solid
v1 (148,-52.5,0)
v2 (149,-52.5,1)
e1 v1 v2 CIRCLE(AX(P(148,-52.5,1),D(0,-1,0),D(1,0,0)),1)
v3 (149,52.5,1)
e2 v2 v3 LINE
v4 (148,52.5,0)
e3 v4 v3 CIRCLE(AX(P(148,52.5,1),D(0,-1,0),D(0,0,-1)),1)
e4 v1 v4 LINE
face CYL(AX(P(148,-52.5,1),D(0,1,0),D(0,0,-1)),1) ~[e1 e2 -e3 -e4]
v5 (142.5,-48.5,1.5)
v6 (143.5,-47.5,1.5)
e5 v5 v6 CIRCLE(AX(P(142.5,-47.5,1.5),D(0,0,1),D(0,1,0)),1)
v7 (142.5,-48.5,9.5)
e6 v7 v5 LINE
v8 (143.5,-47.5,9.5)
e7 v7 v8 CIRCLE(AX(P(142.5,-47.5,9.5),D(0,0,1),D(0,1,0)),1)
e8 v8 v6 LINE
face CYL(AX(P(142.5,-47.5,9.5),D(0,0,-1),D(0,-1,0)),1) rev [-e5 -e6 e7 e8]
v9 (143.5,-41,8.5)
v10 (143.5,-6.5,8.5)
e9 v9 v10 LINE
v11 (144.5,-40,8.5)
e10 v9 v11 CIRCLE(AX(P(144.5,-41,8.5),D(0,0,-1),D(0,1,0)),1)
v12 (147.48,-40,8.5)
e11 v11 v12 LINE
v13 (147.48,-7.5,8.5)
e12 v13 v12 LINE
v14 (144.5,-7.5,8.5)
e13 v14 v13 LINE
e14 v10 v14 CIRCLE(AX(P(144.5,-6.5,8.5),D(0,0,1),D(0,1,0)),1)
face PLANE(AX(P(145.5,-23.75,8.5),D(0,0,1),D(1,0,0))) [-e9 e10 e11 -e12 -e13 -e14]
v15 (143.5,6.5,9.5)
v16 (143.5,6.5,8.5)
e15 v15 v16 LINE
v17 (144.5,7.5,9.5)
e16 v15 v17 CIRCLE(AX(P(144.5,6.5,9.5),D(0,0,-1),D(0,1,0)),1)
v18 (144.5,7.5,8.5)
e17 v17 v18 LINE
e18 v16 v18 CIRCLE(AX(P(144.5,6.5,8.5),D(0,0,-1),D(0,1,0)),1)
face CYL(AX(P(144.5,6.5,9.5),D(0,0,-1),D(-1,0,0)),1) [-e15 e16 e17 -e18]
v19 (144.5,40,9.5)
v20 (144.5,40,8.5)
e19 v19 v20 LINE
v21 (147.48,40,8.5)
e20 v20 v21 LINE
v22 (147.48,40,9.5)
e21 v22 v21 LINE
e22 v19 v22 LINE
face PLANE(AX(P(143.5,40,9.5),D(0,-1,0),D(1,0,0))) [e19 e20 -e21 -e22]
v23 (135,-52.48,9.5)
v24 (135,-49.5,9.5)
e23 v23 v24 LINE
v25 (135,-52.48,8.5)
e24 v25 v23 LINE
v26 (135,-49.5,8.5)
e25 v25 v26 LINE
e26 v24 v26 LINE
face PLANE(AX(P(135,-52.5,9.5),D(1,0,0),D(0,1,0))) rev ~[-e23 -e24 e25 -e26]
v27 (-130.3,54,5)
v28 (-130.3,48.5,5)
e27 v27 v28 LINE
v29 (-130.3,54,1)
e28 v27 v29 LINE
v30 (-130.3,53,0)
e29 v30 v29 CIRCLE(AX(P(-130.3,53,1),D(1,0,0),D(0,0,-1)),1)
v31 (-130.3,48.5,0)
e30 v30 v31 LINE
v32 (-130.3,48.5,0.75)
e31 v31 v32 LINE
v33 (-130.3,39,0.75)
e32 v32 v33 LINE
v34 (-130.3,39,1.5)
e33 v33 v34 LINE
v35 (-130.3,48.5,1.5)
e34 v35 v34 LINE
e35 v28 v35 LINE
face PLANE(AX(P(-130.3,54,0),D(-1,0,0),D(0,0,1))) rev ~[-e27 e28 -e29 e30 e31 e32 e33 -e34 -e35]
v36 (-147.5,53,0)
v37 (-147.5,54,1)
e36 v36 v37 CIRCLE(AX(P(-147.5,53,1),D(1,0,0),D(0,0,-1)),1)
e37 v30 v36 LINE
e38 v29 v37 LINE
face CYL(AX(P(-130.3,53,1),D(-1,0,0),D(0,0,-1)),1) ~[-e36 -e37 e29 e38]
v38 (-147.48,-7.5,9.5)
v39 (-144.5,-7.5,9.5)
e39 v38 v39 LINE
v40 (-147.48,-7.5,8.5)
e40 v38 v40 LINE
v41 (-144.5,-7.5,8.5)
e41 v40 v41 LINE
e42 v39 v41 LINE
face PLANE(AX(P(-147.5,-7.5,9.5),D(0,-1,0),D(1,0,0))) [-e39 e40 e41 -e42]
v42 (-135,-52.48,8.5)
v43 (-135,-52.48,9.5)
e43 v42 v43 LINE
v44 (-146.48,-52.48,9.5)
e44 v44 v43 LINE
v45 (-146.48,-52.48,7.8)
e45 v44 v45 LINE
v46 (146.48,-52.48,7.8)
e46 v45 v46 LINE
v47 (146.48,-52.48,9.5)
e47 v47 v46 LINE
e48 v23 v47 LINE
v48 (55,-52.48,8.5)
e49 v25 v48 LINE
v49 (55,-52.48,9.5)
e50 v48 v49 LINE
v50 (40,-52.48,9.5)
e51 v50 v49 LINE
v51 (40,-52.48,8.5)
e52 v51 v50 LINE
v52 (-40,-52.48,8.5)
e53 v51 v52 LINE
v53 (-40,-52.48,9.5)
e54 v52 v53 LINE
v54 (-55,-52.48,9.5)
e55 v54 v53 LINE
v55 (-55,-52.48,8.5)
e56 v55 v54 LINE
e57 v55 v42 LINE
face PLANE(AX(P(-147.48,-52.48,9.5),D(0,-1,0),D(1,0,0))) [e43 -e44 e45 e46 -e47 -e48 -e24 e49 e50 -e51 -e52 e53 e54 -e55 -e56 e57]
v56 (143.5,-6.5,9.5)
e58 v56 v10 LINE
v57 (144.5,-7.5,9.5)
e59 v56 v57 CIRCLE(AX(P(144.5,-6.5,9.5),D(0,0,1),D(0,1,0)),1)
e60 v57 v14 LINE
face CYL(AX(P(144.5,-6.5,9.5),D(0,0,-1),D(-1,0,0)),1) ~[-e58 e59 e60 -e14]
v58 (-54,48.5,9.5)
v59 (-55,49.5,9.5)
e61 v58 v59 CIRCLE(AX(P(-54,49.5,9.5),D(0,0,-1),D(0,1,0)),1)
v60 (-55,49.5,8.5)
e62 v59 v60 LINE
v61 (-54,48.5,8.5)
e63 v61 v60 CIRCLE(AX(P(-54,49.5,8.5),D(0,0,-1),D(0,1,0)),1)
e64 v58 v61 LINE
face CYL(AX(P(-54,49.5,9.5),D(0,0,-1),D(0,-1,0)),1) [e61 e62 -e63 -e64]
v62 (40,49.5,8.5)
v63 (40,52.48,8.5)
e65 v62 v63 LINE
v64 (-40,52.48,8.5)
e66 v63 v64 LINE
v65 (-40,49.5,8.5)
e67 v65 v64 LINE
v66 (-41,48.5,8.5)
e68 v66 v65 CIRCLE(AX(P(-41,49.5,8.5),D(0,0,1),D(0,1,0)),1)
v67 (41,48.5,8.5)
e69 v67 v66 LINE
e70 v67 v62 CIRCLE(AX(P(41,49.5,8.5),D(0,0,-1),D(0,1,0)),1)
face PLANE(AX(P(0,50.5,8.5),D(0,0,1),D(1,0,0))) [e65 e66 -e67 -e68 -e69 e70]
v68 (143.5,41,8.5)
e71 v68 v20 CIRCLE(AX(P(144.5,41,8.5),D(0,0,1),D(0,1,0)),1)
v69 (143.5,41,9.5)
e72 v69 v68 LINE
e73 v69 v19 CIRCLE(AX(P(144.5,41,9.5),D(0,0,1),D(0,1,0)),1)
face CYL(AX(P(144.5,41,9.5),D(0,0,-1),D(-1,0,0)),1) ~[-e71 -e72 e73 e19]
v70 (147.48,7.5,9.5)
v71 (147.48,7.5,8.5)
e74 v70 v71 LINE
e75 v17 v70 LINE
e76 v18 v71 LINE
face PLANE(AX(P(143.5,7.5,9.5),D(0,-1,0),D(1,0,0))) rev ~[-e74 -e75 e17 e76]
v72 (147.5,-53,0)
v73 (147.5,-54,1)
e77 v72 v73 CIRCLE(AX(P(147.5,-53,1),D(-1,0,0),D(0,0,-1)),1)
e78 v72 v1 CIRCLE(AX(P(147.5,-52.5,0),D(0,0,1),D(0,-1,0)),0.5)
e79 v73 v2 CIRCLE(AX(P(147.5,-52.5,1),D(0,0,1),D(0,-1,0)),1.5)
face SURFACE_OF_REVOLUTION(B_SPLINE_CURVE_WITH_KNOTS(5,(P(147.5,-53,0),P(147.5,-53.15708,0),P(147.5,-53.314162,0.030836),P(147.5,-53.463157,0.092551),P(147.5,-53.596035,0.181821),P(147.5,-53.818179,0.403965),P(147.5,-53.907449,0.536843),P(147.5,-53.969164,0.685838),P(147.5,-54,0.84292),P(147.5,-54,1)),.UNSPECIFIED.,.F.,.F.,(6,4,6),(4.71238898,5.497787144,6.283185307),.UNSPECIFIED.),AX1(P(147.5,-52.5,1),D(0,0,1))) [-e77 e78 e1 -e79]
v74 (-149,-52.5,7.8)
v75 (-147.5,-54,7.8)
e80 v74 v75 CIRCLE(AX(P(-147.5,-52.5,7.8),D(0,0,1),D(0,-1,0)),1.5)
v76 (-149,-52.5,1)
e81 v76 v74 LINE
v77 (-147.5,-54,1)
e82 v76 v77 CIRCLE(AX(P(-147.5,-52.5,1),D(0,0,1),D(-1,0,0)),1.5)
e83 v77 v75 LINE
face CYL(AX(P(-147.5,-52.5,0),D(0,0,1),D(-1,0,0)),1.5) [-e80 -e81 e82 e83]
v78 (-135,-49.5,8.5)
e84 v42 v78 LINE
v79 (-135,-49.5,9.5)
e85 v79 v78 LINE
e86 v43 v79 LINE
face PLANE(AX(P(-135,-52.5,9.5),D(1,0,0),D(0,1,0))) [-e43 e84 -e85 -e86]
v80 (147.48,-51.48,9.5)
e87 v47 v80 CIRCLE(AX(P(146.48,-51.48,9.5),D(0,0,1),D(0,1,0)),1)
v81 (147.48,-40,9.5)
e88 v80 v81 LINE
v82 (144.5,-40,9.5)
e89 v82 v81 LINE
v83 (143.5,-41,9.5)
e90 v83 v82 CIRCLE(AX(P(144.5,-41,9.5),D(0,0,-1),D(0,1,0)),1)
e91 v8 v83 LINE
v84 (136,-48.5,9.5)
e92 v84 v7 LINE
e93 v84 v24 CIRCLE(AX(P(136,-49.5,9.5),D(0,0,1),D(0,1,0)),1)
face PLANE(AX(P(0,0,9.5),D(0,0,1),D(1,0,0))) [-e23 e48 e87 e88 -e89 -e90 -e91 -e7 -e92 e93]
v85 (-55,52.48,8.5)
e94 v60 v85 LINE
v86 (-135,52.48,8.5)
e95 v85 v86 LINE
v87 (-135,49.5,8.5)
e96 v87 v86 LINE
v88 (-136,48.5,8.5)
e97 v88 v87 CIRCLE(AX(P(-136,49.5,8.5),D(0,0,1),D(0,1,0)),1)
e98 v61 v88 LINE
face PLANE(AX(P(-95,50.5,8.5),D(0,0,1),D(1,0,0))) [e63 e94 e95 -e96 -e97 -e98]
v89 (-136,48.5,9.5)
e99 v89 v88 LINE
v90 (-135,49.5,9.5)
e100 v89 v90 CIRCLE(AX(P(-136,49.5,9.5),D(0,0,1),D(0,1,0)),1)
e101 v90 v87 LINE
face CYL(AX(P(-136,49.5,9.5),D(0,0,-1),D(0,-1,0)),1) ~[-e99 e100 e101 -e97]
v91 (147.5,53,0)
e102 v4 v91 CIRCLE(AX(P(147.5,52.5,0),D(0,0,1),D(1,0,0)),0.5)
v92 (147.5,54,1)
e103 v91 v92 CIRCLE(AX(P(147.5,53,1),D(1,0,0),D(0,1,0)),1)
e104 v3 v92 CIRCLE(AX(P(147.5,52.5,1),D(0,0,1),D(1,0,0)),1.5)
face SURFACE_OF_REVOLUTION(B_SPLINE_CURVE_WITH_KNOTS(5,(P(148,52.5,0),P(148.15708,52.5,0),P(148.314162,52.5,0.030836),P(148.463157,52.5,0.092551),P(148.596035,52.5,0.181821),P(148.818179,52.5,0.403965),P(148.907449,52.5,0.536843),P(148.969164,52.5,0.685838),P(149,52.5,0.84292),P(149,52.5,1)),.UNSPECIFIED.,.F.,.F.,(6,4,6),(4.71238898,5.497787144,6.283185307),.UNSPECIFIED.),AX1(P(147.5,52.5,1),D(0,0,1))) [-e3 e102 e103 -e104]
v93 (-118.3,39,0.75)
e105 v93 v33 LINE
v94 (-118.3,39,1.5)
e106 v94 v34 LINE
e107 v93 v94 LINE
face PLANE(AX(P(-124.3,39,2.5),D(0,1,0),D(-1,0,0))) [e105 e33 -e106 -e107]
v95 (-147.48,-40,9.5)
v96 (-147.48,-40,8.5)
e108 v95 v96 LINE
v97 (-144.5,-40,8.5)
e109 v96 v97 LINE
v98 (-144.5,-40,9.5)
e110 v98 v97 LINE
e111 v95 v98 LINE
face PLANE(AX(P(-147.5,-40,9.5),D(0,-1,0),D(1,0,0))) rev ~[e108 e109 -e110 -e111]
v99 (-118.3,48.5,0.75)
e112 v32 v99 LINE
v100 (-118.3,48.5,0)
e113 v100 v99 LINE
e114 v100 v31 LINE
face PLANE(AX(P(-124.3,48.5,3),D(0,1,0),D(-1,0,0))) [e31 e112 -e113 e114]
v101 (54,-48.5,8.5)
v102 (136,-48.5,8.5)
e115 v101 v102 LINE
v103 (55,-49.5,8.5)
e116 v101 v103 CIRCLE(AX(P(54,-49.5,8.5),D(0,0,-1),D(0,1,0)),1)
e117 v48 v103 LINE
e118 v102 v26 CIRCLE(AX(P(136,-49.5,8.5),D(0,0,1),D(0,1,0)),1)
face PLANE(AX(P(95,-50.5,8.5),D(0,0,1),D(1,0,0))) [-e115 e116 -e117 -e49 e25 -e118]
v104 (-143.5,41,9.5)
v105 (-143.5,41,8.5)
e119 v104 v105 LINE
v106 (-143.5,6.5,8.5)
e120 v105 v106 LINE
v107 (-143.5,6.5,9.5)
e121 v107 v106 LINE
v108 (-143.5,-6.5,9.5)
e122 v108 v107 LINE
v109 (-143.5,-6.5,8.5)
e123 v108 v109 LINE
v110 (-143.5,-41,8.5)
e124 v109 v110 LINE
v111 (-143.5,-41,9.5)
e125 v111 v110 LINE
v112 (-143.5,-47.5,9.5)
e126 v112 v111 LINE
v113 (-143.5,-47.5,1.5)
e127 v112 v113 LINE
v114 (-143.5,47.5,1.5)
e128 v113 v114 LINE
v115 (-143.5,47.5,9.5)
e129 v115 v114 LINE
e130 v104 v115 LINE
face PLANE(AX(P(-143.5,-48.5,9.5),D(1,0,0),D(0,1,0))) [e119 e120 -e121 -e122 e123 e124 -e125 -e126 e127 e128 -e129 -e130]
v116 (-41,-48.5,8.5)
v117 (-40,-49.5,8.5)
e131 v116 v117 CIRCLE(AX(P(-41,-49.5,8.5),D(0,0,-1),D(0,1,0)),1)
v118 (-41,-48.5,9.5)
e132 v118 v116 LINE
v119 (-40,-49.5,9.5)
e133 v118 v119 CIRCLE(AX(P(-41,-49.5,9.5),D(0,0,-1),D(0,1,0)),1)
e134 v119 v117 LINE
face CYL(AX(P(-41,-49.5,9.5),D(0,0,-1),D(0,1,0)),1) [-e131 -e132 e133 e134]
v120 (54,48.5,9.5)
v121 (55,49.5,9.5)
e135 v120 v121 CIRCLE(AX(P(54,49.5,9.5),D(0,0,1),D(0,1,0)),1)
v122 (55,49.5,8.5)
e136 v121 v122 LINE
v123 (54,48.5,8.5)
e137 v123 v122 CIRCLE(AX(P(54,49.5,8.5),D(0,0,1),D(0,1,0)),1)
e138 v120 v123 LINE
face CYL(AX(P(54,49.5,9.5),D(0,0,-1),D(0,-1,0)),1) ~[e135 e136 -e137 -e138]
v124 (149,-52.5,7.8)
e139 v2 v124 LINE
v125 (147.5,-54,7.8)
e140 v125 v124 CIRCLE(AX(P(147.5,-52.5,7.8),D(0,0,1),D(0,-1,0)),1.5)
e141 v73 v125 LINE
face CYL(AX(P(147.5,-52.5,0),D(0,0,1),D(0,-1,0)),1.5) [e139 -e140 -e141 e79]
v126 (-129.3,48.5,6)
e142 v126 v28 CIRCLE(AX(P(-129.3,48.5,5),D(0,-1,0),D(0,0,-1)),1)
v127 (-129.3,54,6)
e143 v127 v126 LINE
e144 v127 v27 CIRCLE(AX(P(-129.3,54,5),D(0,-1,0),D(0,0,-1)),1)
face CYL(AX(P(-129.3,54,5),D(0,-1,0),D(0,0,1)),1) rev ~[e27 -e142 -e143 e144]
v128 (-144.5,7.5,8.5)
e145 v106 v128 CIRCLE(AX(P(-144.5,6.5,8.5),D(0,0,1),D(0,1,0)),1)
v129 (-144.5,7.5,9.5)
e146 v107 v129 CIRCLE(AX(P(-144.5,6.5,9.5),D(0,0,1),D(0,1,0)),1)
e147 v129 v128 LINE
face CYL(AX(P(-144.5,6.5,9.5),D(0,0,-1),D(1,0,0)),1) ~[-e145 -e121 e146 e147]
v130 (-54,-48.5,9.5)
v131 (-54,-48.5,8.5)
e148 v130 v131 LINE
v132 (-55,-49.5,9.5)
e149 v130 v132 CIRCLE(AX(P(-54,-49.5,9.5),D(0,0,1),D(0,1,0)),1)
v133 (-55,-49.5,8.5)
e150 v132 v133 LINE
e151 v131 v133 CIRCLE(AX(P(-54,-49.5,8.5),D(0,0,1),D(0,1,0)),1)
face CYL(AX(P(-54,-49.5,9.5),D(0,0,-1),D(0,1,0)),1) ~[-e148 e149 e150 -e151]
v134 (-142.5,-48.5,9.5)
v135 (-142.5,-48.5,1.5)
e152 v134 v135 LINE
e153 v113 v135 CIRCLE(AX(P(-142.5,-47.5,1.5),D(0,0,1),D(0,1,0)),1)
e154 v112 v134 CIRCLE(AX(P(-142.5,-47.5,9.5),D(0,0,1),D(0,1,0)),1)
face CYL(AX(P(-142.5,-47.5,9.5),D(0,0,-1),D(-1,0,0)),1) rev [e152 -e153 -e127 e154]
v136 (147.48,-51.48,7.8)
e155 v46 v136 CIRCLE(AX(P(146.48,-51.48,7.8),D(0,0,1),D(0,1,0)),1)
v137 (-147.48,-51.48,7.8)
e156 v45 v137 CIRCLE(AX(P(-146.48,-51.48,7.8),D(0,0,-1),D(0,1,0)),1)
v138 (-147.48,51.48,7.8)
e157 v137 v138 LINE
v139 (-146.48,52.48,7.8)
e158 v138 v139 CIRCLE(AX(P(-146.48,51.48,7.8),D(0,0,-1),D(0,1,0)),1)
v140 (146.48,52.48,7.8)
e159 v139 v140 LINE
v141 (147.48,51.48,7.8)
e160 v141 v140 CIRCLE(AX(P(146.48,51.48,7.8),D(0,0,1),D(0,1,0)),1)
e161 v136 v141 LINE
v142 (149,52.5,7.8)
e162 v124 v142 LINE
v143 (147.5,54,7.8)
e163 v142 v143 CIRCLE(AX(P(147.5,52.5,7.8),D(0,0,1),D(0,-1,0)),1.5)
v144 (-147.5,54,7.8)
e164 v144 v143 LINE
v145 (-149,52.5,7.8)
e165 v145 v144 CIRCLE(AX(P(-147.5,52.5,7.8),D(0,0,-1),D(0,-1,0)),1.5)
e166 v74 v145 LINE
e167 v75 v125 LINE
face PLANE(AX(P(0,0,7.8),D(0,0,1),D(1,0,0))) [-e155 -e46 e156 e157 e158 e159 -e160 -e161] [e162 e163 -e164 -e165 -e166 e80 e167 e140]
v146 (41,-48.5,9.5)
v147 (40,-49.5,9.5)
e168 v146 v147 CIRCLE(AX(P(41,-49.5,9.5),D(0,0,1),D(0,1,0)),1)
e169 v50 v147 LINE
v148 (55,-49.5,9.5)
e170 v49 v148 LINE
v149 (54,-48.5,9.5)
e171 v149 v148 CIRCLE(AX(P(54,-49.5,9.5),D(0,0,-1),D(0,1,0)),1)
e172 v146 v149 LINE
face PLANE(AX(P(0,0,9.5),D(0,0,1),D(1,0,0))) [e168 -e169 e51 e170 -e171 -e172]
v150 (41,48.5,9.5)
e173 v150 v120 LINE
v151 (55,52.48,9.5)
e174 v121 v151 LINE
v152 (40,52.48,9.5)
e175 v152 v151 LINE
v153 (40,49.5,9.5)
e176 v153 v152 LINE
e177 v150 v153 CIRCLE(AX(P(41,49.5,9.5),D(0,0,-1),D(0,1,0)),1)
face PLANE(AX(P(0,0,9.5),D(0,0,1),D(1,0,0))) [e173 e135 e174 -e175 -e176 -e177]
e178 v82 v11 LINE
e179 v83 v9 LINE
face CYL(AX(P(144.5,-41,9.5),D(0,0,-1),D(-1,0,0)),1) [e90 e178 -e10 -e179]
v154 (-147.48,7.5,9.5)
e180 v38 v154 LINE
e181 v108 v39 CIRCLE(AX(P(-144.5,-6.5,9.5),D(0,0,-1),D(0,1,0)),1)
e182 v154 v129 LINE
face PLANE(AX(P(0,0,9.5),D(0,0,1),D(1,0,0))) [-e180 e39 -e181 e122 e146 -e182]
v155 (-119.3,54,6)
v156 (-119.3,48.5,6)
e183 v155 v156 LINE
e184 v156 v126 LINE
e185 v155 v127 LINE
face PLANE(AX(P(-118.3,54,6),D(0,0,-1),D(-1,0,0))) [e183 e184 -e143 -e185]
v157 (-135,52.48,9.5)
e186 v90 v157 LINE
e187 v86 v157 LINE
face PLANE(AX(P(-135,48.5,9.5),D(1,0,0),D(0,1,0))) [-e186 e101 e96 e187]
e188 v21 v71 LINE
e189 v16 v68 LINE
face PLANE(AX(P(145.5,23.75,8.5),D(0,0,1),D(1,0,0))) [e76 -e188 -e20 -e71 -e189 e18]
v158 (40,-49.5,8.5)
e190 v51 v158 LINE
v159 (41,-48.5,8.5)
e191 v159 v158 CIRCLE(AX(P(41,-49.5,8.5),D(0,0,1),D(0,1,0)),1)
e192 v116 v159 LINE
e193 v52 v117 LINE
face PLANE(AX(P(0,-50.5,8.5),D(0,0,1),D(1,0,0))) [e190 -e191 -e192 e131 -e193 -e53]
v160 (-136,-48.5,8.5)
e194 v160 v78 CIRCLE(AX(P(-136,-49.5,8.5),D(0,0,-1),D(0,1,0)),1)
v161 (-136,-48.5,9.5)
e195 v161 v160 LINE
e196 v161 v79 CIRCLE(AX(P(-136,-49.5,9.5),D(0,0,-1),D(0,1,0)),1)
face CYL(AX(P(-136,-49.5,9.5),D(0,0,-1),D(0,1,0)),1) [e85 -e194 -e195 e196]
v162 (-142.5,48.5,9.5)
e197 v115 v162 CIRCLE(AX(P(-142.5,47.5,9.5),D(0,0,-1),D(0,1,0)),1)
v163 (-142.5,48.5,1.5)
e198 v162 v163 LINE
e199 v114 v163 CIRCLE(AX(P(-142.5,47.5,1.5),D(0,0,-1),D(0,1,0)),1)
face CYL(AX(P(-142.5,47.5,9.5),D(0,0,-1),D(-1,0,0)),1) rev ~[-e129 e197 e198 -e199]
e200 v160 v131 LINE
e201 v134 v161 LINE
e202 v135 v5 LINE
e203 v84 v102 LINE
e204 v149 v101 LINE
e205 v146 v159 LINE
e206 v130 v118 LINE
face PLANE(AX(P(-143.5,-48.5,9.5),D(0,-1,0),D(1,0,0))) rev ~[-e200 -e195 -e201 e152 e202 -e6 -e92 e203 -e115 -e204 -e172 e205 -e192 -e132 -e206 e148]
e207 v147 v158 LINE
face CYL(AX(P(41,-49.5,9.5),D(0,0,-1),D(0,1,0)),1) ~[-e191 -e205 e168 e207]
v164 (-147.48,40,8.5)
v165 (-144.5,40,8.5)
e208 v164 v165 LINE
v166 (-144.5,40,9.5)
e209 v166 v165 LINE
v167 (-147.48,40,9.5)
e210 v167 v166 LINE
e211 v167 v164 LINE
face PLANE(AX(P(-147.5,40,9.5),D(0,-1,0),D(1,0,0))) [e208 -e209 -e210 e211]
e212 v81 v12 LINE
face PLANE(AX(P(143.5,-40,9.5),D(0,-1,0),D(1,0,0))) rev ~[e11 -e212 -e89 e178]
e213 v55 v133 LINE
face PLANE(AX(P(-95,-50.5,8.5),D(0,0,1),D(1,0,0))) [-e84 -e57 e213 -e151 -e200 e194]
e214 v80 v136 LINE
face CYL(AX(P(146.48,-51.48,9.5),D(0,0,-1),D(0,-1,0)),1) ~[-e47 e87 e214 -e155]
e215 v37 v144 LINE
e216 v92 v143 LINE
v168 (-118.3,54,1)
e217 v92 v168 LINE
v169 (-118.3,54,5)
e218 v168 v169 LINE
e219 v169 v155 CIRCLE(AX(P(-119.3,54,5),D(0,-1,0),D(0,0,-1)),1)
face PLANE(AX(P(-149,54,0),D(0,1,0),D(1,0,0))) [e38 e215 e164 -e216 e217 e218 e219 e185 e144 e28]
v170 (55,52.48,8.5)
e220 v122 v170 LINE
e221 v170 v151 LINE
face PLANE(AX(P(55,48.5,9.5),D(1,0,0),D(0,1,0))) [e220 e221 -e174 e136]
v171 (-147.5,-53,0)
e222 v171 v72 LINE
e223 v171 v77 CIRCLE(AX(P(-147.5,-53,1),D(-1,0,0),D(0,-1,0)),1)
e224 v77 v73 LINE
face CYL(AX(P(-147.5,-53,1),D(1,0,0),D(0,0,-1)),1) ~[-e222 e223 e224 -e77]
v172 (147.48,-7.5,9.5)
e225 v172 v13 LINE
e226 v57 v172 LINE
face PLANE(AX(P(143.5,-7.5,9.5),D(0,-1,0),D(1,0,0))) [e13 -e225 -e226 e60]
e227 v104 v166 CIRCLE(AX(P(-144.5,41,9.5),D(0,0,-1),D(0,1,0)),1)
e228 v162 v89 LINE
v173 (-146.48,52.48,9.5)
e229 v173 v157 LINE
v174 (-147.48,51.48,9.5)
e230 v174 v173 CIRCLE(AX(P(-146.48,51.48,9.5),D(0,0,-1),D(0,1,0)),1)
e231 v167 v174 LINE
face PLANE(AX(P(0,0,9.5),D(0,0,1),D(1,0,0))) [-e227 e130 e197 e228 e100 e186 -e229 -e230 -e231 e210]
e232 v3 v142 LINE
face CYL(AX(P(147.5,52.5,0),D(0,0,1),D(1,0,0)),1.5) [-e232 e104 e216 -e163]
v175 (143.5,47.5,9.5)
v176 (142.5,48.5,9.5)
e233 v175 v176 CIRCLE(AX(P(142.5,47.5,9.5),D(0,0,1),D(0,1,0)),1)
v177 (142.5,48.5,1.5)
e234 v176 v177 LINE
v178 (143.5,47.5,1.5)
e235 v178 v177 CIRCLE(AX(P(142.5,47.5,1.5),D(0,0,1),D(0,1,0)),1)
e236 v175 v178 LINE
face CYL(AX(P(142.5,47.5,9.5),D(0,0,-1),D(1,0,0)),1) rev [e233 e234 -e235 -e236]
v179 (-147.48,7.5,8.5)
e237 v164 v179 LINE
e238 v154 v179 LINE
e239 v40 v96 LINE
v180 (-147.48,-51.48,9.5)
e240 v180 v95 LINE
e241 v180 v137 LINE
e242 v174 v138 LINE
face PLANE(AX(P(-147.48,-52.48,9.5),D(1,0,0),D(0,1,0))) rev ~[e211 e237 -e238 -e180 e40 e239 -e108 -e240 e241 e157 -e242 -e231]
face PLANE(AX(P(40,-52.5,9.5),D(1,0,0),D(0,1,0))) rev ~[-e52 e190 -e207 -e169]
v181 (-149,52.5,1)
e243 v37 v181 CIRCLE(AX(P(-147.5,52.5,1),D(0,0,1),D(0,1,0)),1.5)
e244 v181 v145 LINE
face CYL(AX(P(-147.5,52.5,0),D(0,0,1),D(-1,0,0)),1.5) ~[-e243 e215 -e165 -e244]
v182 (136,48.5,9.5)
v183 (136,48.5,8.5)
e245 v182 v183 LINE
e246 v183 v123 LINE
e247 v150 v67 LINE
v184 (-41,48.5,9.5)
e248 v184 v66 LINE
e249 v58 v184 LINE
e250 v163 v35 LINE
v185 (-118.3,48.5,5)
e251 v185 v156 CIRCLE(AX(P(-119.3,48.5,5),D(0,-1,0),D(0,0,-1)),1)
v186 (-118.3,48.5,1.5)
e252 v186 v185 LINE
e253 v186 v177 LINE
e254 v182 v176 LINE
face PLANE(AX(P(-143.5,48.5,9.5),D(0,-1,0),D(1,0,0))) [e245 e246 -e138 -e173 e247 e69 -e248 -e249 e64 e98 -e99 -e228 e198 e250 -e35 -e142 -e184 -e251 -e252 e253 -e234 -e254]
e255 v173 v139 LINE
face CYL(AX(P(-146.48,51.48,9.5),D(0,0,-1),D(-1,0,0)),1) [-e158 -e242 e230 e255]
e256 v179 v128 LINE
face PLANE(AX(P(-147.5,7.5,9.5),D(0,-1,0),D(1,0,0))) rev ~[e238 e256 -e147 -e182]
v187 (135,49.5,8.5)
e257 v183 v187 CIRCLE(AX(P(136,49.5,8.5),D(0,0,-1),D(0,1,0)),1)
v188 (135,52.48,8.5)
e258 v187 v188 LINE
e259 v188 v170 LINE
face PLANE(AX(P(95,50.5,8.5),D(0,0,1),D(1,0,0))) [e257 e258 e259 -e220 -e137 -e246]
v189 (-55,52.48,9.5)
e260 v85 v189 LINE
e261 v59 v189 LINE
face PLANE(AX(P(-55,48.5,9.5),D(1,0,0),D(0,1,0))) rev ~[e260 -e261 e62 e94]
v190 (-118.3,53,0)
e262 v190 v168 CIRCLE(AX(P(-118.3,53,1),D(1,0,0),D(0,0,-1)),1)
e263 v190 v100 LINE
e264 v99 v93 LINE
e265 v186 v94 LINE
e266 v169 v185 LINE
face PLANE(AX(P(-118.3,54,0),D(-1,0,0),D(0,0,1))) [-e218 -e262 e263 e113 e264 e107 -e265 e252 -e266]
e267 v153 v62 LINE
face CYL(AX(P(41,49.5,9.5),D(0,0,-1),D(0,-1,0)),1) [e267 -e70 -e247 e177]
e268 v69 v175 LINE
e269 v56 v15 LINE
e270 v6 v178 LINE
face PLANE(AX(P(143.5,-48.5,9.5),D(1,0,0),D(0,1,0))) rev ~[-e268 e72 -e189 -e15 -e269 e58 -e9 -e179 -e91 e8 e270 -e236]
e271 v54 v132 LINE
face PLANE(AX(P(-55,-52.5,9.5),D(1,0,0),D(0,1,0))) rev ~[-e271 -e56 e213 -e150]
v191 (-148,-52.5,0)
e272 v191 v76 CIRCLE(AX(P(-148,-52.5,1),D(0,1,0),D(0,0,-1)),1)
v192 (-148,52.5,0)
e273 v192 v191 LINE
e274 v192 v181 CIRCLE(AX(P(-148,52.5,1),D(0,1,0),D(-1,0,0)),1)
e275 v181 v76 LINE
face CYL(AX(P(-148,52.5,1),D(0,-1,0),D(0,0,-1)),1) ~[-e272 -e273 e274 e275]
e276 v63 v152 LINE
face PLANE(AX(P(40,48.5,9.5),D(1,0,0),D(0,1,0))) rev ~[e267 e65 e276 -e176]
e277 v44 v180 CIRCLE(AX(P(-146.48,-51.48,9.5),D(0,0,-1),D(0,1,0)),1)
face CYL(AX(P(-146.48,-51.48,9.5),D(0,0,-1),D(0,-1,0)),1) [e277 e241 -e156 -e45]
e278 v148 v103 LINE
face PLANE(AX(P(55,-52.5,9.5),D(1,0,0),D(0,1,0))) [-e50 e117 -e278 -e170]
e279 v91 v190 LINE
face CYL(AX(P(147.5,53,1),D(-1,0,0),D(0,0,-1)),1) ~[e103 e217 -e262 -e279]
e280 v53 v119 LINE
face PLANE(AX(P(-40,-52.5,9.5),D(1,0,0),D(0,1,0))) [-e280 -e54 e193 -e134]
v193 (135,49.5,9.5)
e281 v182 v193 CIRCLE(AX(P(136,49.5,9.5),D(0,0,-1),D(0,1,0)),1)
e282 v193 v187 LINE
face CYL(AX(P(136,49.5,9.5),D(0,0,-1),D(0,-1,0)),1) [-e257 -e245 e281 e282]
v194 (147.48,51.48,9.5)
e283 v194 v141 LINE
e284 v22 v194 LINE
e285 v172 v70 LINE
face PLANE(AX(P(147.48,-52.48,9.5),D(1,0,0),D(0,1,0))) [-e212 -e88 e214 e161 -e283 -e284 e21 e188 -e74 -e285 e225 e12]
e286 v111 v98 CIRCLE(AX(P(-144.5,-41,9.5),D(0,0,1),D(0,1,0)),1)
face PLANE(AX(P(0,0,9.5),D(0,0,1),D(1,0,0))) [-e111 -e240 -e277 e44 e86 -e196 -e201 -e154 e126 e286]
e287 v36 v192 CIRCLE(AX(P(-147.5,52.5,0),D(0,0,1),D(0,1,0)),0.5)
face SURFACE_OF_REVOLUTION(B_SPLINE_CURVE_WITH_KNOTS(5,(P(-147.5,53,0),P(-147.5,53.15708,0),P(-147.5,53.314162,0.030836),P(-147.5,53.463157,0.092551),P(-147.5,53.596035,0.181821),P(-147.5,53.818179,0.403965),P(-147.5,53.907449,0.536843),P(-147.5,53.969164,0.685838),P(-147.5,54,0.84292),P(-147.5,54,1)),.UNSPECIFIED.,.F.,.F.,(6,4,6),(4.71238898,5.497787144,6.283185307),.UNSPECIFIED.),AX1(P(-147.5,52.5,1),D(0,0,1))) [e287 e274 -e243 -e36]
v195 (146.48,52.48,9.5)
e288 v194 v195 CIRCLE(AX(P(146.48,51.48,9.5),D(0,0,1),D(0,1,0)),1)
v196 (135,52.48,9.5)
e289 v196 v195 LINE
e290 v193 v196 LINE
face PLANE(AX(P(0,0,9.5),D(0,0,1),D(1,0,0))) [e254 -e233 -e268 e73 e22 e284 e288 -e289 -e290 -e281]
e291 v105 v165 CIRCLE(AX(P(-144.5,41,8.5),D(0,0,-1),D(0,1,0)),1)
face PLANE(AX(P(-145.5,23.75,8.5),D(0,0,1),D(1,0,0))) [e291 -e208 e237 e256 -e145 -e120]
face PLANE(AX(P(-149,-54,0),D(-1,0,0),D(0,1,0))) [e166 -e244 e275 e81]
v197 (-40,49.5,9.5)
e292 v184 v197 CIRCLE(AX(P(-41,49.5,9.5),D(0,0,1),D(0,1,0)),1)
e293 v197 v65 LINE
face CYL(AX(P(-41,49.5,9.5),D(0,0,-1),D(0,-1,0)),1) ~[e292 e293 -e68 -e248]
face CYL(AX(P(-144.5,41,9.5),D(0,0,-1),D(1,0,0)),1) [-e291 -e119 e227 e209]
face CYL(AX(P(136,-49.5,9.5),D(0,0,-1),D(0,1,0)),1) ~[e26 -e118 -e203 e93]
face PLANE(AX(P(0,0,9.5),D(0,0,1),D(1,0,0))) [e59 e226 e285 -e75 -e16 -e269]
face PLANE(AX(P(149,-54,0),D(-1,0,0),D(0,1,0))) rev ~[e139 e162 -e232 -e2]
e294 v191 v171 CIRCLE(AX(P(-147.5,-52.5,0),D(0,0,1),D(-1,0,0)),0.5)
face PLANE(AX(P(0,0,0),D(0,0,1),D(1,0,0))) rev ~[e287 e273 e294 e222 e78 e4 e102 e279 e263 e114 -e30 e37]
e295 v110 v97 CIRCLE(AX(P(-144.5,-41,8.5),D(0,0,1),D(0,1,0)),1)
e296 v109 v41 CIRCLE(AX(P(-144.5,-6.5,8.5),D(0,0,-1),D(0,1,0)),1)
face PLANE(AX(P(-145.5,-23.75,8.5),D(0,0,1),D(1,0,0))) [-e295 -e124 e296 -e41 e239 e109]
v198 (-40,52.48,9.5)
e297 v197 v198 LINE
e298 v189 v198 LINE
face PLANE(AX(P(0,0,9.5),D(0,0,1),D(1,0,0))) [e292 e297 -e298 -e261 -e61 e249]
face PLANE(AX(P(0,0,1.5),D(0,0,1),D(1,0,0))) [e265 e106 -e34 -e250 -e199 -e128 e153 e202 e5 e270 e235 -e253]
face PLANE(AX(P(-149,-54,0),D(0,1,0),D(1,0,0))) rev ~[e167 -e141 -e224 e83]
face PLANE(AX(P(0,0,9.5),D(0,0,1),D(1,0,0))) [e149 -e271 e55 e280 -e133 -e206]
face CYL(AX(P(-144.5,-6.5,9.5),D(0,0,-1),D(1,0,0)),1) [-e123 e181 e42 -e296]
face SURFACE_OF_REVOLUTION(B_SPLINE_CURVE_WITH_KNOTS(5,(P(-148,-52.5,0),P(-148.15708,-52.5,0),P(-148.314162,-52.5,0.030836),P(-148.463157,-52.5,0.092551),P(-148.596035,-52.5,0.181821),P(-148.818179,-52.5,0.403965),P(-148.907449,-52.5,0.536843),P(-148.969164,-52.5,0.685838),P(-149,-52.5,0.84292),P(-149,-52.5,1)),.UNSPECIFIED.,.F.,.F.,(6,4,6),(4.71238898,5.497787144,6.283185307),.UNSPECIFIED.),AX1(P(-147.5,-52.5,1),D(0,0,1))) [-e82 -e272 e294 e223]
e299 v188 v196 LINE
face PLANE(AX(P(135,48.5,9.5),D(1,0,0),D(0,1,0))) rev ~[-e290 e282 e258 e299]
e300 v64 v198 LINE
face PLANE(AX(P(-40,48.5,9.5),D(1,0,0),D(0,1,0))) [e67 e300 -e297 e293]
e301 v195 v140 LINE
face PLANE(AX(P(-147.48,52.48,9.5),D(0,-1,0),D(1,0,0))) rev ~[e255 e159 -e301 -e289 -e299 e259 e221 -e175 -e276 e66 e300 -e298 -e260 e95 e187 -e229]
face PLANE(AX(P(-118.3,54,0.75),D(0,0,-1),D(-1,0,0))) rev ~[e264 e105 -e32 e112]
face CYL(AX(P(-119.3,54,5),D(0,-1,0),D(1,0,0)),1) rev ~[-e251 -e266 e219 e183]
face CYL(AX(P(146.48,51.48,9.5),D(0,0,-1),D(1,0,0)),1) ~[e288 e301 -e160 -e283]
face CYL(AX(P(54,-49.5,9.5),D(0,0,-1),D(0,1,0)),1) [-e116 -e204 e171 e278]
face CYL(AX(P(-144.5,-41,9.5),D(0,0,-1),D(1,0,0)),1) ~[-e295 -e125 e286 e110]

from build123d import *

# Parameters (mm, degrees)
SKETCH001_W     = 298
SKETCH001_H     = 108
PAD_DEPTH       = 9.5
SKETCH002_W     = 287
SKETCH002_H     = 97
POCKET_DEPTH    = 8
SKETCH003_W     = 299
SKETCH003_H     = 109
SKETCH003_W_2   = 294.96
SKETCH003_H_2   = 104.96
POCKET001_DEPTH = 1.7
SKETCH004_W     = 80
SKETCH004_H     = 4
SKETCH004_W_2   = 4
SKETCH004_H_2   = 32.5
POCKET002_DEPTH = 1
SKETCH005_W     = 12
SKETCH005_H     = 3.5
POCKET003_DEPTH = 15
SKETCH_W        = 12
SKETCH_H        = 6
POCKET004_DEPTH = 5.5
FILLET_R        = 1.5
FILLET001_R     = 1
FILLET002_R     = 1
FILLET003_R     = 1
FILLET004_R     = 1
FILLET005_R     = 1


with BuildPart() as part:
    # Sketch001 → Pad (new body)
    with BuildSketch(Plane.XY):
        Rectangle(SKETCH001_W, SKETCH001_H)
    extrude(amount=PAD_DEPTH)

    # Sketch002 (on Face6 of Pad) → Pocket (cut)
    with BuildSketch(Plane.XY.offset(9.5)):
        Rectangle(SKETCH002_W, SKETCH002_H)
    extrude(amount=-POCKET_DEPTH, mode=Mode.SUBTRACT)

    # Sketch003 (on Face5 of Pocket) → Pocket001 (cut)
    with BuildSketch(Plane.XY.offset(9.5)):
        Rectangle(SKETCH003_W, SKETCH003_H)
        Rectangle(SKETCH003_W_2, SKETCH003_H_2, mode=Mode.SUBTRACT)
    extrude(amount=-POCKET001_DEPTH, mode=Mode.SUBTRACT)

    # Sketch004 (on Face11 of Pocket001) → Pocket002 (cut)
    with BuildSketch(Plane.XY.offset(9.5)):
        with Locations((-95, 50.5)):
            Rectangle(SKETCH004_W, SKETCH004_H)
        with Locations((0, 50.5)):
            Rectangle(SKETCH004_W, SKETCH004_H)
        with Locations((95, 50.5)):
            Rectangle(SKETCH004_W, SKETCH004_H)
        with Locations((95, -50.5)):
            Rectangle(SKETCH004_W, SKETCH004_H)
        with Locations((0, -50.5)):
            Rectangle(SKETCH004_W, SKETCH004_H)
        with Locations((-95, -50.5)):
            Rectangle(SKETCH004_W, SKETCH004_H)
        with Locations((-145.5, 23.75)):
            Rectangle(SKETCH004_W_2, SKETCH004_H_2)
        with Locations((-145.5, -23.75)):
            Rectangle(SKETCH004_W_2, SKETCH004_H_2)
        with Locations((145.5, 23.75)):
            Rectangle(SKETCH004_W_2, SKETCH004_H_2)
        with Locations((145.5, -23.75)):
            Rectangle(SKETCH004_W_2, SKETCH004_H_2)
    extrude(amount=-POCKET002_DEPTH, mode=Mode.SUBTRACT)

    # Sketch005 (on Face1 of Pocket002) → Pocket003 (cut)
    with BuildSketch(Plane(origin=(0, 54, 0), x_dir=(-1, 0, 0), z_dir=(0, 1, 0))):
        with Locations((124.3, 2.5)):
            Rectangle(SKETCH005_W, SKETCH005_H)
    extrude(amount=-POCKET003_DEPTH, mode=Mode.SUBTRACT)

    # Sketch (on Face1 of Pocket003) → Pocket004 (cut)
    with BuildSketch(Plane(origin=(0, 54, 0), x_dir=(-1, 0, 0), z_dir=(0, 1, 0))):
        with Locations((124.3, 3)):
            Rectangle(SKETCH_W, SKETCH_H)
    extrude(amount=-POCKET004_DEPTH, mode=Mode.SUBTRACT)

    # Fillet
    fillet_edges = [part.edges().sort_by_distance(p)[0] for p in [
        (-149, 54, 3.9),
        (-149, -54, 3.9),
        (149, 54, 3.9),
        (149, -54, 3.9),
    ]]
    fillet(fillet_edges, radius=FILLET_R)

    # Fillet001
    fillet001_edges = [part.edges().sort_by_distance(p)[0] for p in [
        (147.48, -52.48, 8.65),
        (-147.48, -52.48, 8.65),
        (147.48, 52.48, 8.65),
        (-147.48, 52.48, 8.65),
    ]]
    fillet(fillet001_edges, radius=FILLET001_R)

    # Fillet002
    fillet002_edges = [part.edges().sort_by_distance(p)[0] for p in [
        (143.5, 48.5, 5.5),
        (-143.5, 48.5, 5.5),
        (-143.5, -48.5, 5.5),
        (143.5, -48.5, 5.5),
    ]]
    fillet(fillet002_edges, radius=FILLET002_R)

    # Fillet003
    fillet003_edges = [part.edges().sort_by_distance(p)[0] for p in [
        (143.5, 40, 9),
        (135, 48.5, 9),
        (55, 48.5, 9),
        (40, 48.5, 9),
        (143.5, -7.5, 9),
        (143.5, 7.5, 9),
        (143.5, -40, 9),
        (135, -48.5, 9),
        (40, -48.5, 9),
        (-55, -48.5, 9),
        (-40, 48.5, 9),
        (-55, 48.5, 9),
        (-135, 48.5, 9),
        (-143.5, 40, 9),
        (-143.5, -7.5, 9),
        (-143.5, 7.5, 9),
        (-143.5, -40, 9),
        (-135, -48.5, 9),
        (-40, -48.5, 9),
        (55, -48.5, 9),
    ]]
    fillet(fillet003_edges, radius=FILLET003_R)

    # Fillet004
    fillet004_edges = [part.edges().sort_by_distance(p)[0] for p in [
        (-118.3, 51.25, 6),
        (-130.3, 51.25, 6),
    ]]
    fillet(fillet004_edges, radius=FILLET004_R)

    # Fillet005
    fillet005_edges = [part.edges().sort_by_distance(p)[0] for p in [
        (0, -54, 0),
    ]]
    fillet(fillet005_edges, radius=FILLET005_R)


solid = part.part
